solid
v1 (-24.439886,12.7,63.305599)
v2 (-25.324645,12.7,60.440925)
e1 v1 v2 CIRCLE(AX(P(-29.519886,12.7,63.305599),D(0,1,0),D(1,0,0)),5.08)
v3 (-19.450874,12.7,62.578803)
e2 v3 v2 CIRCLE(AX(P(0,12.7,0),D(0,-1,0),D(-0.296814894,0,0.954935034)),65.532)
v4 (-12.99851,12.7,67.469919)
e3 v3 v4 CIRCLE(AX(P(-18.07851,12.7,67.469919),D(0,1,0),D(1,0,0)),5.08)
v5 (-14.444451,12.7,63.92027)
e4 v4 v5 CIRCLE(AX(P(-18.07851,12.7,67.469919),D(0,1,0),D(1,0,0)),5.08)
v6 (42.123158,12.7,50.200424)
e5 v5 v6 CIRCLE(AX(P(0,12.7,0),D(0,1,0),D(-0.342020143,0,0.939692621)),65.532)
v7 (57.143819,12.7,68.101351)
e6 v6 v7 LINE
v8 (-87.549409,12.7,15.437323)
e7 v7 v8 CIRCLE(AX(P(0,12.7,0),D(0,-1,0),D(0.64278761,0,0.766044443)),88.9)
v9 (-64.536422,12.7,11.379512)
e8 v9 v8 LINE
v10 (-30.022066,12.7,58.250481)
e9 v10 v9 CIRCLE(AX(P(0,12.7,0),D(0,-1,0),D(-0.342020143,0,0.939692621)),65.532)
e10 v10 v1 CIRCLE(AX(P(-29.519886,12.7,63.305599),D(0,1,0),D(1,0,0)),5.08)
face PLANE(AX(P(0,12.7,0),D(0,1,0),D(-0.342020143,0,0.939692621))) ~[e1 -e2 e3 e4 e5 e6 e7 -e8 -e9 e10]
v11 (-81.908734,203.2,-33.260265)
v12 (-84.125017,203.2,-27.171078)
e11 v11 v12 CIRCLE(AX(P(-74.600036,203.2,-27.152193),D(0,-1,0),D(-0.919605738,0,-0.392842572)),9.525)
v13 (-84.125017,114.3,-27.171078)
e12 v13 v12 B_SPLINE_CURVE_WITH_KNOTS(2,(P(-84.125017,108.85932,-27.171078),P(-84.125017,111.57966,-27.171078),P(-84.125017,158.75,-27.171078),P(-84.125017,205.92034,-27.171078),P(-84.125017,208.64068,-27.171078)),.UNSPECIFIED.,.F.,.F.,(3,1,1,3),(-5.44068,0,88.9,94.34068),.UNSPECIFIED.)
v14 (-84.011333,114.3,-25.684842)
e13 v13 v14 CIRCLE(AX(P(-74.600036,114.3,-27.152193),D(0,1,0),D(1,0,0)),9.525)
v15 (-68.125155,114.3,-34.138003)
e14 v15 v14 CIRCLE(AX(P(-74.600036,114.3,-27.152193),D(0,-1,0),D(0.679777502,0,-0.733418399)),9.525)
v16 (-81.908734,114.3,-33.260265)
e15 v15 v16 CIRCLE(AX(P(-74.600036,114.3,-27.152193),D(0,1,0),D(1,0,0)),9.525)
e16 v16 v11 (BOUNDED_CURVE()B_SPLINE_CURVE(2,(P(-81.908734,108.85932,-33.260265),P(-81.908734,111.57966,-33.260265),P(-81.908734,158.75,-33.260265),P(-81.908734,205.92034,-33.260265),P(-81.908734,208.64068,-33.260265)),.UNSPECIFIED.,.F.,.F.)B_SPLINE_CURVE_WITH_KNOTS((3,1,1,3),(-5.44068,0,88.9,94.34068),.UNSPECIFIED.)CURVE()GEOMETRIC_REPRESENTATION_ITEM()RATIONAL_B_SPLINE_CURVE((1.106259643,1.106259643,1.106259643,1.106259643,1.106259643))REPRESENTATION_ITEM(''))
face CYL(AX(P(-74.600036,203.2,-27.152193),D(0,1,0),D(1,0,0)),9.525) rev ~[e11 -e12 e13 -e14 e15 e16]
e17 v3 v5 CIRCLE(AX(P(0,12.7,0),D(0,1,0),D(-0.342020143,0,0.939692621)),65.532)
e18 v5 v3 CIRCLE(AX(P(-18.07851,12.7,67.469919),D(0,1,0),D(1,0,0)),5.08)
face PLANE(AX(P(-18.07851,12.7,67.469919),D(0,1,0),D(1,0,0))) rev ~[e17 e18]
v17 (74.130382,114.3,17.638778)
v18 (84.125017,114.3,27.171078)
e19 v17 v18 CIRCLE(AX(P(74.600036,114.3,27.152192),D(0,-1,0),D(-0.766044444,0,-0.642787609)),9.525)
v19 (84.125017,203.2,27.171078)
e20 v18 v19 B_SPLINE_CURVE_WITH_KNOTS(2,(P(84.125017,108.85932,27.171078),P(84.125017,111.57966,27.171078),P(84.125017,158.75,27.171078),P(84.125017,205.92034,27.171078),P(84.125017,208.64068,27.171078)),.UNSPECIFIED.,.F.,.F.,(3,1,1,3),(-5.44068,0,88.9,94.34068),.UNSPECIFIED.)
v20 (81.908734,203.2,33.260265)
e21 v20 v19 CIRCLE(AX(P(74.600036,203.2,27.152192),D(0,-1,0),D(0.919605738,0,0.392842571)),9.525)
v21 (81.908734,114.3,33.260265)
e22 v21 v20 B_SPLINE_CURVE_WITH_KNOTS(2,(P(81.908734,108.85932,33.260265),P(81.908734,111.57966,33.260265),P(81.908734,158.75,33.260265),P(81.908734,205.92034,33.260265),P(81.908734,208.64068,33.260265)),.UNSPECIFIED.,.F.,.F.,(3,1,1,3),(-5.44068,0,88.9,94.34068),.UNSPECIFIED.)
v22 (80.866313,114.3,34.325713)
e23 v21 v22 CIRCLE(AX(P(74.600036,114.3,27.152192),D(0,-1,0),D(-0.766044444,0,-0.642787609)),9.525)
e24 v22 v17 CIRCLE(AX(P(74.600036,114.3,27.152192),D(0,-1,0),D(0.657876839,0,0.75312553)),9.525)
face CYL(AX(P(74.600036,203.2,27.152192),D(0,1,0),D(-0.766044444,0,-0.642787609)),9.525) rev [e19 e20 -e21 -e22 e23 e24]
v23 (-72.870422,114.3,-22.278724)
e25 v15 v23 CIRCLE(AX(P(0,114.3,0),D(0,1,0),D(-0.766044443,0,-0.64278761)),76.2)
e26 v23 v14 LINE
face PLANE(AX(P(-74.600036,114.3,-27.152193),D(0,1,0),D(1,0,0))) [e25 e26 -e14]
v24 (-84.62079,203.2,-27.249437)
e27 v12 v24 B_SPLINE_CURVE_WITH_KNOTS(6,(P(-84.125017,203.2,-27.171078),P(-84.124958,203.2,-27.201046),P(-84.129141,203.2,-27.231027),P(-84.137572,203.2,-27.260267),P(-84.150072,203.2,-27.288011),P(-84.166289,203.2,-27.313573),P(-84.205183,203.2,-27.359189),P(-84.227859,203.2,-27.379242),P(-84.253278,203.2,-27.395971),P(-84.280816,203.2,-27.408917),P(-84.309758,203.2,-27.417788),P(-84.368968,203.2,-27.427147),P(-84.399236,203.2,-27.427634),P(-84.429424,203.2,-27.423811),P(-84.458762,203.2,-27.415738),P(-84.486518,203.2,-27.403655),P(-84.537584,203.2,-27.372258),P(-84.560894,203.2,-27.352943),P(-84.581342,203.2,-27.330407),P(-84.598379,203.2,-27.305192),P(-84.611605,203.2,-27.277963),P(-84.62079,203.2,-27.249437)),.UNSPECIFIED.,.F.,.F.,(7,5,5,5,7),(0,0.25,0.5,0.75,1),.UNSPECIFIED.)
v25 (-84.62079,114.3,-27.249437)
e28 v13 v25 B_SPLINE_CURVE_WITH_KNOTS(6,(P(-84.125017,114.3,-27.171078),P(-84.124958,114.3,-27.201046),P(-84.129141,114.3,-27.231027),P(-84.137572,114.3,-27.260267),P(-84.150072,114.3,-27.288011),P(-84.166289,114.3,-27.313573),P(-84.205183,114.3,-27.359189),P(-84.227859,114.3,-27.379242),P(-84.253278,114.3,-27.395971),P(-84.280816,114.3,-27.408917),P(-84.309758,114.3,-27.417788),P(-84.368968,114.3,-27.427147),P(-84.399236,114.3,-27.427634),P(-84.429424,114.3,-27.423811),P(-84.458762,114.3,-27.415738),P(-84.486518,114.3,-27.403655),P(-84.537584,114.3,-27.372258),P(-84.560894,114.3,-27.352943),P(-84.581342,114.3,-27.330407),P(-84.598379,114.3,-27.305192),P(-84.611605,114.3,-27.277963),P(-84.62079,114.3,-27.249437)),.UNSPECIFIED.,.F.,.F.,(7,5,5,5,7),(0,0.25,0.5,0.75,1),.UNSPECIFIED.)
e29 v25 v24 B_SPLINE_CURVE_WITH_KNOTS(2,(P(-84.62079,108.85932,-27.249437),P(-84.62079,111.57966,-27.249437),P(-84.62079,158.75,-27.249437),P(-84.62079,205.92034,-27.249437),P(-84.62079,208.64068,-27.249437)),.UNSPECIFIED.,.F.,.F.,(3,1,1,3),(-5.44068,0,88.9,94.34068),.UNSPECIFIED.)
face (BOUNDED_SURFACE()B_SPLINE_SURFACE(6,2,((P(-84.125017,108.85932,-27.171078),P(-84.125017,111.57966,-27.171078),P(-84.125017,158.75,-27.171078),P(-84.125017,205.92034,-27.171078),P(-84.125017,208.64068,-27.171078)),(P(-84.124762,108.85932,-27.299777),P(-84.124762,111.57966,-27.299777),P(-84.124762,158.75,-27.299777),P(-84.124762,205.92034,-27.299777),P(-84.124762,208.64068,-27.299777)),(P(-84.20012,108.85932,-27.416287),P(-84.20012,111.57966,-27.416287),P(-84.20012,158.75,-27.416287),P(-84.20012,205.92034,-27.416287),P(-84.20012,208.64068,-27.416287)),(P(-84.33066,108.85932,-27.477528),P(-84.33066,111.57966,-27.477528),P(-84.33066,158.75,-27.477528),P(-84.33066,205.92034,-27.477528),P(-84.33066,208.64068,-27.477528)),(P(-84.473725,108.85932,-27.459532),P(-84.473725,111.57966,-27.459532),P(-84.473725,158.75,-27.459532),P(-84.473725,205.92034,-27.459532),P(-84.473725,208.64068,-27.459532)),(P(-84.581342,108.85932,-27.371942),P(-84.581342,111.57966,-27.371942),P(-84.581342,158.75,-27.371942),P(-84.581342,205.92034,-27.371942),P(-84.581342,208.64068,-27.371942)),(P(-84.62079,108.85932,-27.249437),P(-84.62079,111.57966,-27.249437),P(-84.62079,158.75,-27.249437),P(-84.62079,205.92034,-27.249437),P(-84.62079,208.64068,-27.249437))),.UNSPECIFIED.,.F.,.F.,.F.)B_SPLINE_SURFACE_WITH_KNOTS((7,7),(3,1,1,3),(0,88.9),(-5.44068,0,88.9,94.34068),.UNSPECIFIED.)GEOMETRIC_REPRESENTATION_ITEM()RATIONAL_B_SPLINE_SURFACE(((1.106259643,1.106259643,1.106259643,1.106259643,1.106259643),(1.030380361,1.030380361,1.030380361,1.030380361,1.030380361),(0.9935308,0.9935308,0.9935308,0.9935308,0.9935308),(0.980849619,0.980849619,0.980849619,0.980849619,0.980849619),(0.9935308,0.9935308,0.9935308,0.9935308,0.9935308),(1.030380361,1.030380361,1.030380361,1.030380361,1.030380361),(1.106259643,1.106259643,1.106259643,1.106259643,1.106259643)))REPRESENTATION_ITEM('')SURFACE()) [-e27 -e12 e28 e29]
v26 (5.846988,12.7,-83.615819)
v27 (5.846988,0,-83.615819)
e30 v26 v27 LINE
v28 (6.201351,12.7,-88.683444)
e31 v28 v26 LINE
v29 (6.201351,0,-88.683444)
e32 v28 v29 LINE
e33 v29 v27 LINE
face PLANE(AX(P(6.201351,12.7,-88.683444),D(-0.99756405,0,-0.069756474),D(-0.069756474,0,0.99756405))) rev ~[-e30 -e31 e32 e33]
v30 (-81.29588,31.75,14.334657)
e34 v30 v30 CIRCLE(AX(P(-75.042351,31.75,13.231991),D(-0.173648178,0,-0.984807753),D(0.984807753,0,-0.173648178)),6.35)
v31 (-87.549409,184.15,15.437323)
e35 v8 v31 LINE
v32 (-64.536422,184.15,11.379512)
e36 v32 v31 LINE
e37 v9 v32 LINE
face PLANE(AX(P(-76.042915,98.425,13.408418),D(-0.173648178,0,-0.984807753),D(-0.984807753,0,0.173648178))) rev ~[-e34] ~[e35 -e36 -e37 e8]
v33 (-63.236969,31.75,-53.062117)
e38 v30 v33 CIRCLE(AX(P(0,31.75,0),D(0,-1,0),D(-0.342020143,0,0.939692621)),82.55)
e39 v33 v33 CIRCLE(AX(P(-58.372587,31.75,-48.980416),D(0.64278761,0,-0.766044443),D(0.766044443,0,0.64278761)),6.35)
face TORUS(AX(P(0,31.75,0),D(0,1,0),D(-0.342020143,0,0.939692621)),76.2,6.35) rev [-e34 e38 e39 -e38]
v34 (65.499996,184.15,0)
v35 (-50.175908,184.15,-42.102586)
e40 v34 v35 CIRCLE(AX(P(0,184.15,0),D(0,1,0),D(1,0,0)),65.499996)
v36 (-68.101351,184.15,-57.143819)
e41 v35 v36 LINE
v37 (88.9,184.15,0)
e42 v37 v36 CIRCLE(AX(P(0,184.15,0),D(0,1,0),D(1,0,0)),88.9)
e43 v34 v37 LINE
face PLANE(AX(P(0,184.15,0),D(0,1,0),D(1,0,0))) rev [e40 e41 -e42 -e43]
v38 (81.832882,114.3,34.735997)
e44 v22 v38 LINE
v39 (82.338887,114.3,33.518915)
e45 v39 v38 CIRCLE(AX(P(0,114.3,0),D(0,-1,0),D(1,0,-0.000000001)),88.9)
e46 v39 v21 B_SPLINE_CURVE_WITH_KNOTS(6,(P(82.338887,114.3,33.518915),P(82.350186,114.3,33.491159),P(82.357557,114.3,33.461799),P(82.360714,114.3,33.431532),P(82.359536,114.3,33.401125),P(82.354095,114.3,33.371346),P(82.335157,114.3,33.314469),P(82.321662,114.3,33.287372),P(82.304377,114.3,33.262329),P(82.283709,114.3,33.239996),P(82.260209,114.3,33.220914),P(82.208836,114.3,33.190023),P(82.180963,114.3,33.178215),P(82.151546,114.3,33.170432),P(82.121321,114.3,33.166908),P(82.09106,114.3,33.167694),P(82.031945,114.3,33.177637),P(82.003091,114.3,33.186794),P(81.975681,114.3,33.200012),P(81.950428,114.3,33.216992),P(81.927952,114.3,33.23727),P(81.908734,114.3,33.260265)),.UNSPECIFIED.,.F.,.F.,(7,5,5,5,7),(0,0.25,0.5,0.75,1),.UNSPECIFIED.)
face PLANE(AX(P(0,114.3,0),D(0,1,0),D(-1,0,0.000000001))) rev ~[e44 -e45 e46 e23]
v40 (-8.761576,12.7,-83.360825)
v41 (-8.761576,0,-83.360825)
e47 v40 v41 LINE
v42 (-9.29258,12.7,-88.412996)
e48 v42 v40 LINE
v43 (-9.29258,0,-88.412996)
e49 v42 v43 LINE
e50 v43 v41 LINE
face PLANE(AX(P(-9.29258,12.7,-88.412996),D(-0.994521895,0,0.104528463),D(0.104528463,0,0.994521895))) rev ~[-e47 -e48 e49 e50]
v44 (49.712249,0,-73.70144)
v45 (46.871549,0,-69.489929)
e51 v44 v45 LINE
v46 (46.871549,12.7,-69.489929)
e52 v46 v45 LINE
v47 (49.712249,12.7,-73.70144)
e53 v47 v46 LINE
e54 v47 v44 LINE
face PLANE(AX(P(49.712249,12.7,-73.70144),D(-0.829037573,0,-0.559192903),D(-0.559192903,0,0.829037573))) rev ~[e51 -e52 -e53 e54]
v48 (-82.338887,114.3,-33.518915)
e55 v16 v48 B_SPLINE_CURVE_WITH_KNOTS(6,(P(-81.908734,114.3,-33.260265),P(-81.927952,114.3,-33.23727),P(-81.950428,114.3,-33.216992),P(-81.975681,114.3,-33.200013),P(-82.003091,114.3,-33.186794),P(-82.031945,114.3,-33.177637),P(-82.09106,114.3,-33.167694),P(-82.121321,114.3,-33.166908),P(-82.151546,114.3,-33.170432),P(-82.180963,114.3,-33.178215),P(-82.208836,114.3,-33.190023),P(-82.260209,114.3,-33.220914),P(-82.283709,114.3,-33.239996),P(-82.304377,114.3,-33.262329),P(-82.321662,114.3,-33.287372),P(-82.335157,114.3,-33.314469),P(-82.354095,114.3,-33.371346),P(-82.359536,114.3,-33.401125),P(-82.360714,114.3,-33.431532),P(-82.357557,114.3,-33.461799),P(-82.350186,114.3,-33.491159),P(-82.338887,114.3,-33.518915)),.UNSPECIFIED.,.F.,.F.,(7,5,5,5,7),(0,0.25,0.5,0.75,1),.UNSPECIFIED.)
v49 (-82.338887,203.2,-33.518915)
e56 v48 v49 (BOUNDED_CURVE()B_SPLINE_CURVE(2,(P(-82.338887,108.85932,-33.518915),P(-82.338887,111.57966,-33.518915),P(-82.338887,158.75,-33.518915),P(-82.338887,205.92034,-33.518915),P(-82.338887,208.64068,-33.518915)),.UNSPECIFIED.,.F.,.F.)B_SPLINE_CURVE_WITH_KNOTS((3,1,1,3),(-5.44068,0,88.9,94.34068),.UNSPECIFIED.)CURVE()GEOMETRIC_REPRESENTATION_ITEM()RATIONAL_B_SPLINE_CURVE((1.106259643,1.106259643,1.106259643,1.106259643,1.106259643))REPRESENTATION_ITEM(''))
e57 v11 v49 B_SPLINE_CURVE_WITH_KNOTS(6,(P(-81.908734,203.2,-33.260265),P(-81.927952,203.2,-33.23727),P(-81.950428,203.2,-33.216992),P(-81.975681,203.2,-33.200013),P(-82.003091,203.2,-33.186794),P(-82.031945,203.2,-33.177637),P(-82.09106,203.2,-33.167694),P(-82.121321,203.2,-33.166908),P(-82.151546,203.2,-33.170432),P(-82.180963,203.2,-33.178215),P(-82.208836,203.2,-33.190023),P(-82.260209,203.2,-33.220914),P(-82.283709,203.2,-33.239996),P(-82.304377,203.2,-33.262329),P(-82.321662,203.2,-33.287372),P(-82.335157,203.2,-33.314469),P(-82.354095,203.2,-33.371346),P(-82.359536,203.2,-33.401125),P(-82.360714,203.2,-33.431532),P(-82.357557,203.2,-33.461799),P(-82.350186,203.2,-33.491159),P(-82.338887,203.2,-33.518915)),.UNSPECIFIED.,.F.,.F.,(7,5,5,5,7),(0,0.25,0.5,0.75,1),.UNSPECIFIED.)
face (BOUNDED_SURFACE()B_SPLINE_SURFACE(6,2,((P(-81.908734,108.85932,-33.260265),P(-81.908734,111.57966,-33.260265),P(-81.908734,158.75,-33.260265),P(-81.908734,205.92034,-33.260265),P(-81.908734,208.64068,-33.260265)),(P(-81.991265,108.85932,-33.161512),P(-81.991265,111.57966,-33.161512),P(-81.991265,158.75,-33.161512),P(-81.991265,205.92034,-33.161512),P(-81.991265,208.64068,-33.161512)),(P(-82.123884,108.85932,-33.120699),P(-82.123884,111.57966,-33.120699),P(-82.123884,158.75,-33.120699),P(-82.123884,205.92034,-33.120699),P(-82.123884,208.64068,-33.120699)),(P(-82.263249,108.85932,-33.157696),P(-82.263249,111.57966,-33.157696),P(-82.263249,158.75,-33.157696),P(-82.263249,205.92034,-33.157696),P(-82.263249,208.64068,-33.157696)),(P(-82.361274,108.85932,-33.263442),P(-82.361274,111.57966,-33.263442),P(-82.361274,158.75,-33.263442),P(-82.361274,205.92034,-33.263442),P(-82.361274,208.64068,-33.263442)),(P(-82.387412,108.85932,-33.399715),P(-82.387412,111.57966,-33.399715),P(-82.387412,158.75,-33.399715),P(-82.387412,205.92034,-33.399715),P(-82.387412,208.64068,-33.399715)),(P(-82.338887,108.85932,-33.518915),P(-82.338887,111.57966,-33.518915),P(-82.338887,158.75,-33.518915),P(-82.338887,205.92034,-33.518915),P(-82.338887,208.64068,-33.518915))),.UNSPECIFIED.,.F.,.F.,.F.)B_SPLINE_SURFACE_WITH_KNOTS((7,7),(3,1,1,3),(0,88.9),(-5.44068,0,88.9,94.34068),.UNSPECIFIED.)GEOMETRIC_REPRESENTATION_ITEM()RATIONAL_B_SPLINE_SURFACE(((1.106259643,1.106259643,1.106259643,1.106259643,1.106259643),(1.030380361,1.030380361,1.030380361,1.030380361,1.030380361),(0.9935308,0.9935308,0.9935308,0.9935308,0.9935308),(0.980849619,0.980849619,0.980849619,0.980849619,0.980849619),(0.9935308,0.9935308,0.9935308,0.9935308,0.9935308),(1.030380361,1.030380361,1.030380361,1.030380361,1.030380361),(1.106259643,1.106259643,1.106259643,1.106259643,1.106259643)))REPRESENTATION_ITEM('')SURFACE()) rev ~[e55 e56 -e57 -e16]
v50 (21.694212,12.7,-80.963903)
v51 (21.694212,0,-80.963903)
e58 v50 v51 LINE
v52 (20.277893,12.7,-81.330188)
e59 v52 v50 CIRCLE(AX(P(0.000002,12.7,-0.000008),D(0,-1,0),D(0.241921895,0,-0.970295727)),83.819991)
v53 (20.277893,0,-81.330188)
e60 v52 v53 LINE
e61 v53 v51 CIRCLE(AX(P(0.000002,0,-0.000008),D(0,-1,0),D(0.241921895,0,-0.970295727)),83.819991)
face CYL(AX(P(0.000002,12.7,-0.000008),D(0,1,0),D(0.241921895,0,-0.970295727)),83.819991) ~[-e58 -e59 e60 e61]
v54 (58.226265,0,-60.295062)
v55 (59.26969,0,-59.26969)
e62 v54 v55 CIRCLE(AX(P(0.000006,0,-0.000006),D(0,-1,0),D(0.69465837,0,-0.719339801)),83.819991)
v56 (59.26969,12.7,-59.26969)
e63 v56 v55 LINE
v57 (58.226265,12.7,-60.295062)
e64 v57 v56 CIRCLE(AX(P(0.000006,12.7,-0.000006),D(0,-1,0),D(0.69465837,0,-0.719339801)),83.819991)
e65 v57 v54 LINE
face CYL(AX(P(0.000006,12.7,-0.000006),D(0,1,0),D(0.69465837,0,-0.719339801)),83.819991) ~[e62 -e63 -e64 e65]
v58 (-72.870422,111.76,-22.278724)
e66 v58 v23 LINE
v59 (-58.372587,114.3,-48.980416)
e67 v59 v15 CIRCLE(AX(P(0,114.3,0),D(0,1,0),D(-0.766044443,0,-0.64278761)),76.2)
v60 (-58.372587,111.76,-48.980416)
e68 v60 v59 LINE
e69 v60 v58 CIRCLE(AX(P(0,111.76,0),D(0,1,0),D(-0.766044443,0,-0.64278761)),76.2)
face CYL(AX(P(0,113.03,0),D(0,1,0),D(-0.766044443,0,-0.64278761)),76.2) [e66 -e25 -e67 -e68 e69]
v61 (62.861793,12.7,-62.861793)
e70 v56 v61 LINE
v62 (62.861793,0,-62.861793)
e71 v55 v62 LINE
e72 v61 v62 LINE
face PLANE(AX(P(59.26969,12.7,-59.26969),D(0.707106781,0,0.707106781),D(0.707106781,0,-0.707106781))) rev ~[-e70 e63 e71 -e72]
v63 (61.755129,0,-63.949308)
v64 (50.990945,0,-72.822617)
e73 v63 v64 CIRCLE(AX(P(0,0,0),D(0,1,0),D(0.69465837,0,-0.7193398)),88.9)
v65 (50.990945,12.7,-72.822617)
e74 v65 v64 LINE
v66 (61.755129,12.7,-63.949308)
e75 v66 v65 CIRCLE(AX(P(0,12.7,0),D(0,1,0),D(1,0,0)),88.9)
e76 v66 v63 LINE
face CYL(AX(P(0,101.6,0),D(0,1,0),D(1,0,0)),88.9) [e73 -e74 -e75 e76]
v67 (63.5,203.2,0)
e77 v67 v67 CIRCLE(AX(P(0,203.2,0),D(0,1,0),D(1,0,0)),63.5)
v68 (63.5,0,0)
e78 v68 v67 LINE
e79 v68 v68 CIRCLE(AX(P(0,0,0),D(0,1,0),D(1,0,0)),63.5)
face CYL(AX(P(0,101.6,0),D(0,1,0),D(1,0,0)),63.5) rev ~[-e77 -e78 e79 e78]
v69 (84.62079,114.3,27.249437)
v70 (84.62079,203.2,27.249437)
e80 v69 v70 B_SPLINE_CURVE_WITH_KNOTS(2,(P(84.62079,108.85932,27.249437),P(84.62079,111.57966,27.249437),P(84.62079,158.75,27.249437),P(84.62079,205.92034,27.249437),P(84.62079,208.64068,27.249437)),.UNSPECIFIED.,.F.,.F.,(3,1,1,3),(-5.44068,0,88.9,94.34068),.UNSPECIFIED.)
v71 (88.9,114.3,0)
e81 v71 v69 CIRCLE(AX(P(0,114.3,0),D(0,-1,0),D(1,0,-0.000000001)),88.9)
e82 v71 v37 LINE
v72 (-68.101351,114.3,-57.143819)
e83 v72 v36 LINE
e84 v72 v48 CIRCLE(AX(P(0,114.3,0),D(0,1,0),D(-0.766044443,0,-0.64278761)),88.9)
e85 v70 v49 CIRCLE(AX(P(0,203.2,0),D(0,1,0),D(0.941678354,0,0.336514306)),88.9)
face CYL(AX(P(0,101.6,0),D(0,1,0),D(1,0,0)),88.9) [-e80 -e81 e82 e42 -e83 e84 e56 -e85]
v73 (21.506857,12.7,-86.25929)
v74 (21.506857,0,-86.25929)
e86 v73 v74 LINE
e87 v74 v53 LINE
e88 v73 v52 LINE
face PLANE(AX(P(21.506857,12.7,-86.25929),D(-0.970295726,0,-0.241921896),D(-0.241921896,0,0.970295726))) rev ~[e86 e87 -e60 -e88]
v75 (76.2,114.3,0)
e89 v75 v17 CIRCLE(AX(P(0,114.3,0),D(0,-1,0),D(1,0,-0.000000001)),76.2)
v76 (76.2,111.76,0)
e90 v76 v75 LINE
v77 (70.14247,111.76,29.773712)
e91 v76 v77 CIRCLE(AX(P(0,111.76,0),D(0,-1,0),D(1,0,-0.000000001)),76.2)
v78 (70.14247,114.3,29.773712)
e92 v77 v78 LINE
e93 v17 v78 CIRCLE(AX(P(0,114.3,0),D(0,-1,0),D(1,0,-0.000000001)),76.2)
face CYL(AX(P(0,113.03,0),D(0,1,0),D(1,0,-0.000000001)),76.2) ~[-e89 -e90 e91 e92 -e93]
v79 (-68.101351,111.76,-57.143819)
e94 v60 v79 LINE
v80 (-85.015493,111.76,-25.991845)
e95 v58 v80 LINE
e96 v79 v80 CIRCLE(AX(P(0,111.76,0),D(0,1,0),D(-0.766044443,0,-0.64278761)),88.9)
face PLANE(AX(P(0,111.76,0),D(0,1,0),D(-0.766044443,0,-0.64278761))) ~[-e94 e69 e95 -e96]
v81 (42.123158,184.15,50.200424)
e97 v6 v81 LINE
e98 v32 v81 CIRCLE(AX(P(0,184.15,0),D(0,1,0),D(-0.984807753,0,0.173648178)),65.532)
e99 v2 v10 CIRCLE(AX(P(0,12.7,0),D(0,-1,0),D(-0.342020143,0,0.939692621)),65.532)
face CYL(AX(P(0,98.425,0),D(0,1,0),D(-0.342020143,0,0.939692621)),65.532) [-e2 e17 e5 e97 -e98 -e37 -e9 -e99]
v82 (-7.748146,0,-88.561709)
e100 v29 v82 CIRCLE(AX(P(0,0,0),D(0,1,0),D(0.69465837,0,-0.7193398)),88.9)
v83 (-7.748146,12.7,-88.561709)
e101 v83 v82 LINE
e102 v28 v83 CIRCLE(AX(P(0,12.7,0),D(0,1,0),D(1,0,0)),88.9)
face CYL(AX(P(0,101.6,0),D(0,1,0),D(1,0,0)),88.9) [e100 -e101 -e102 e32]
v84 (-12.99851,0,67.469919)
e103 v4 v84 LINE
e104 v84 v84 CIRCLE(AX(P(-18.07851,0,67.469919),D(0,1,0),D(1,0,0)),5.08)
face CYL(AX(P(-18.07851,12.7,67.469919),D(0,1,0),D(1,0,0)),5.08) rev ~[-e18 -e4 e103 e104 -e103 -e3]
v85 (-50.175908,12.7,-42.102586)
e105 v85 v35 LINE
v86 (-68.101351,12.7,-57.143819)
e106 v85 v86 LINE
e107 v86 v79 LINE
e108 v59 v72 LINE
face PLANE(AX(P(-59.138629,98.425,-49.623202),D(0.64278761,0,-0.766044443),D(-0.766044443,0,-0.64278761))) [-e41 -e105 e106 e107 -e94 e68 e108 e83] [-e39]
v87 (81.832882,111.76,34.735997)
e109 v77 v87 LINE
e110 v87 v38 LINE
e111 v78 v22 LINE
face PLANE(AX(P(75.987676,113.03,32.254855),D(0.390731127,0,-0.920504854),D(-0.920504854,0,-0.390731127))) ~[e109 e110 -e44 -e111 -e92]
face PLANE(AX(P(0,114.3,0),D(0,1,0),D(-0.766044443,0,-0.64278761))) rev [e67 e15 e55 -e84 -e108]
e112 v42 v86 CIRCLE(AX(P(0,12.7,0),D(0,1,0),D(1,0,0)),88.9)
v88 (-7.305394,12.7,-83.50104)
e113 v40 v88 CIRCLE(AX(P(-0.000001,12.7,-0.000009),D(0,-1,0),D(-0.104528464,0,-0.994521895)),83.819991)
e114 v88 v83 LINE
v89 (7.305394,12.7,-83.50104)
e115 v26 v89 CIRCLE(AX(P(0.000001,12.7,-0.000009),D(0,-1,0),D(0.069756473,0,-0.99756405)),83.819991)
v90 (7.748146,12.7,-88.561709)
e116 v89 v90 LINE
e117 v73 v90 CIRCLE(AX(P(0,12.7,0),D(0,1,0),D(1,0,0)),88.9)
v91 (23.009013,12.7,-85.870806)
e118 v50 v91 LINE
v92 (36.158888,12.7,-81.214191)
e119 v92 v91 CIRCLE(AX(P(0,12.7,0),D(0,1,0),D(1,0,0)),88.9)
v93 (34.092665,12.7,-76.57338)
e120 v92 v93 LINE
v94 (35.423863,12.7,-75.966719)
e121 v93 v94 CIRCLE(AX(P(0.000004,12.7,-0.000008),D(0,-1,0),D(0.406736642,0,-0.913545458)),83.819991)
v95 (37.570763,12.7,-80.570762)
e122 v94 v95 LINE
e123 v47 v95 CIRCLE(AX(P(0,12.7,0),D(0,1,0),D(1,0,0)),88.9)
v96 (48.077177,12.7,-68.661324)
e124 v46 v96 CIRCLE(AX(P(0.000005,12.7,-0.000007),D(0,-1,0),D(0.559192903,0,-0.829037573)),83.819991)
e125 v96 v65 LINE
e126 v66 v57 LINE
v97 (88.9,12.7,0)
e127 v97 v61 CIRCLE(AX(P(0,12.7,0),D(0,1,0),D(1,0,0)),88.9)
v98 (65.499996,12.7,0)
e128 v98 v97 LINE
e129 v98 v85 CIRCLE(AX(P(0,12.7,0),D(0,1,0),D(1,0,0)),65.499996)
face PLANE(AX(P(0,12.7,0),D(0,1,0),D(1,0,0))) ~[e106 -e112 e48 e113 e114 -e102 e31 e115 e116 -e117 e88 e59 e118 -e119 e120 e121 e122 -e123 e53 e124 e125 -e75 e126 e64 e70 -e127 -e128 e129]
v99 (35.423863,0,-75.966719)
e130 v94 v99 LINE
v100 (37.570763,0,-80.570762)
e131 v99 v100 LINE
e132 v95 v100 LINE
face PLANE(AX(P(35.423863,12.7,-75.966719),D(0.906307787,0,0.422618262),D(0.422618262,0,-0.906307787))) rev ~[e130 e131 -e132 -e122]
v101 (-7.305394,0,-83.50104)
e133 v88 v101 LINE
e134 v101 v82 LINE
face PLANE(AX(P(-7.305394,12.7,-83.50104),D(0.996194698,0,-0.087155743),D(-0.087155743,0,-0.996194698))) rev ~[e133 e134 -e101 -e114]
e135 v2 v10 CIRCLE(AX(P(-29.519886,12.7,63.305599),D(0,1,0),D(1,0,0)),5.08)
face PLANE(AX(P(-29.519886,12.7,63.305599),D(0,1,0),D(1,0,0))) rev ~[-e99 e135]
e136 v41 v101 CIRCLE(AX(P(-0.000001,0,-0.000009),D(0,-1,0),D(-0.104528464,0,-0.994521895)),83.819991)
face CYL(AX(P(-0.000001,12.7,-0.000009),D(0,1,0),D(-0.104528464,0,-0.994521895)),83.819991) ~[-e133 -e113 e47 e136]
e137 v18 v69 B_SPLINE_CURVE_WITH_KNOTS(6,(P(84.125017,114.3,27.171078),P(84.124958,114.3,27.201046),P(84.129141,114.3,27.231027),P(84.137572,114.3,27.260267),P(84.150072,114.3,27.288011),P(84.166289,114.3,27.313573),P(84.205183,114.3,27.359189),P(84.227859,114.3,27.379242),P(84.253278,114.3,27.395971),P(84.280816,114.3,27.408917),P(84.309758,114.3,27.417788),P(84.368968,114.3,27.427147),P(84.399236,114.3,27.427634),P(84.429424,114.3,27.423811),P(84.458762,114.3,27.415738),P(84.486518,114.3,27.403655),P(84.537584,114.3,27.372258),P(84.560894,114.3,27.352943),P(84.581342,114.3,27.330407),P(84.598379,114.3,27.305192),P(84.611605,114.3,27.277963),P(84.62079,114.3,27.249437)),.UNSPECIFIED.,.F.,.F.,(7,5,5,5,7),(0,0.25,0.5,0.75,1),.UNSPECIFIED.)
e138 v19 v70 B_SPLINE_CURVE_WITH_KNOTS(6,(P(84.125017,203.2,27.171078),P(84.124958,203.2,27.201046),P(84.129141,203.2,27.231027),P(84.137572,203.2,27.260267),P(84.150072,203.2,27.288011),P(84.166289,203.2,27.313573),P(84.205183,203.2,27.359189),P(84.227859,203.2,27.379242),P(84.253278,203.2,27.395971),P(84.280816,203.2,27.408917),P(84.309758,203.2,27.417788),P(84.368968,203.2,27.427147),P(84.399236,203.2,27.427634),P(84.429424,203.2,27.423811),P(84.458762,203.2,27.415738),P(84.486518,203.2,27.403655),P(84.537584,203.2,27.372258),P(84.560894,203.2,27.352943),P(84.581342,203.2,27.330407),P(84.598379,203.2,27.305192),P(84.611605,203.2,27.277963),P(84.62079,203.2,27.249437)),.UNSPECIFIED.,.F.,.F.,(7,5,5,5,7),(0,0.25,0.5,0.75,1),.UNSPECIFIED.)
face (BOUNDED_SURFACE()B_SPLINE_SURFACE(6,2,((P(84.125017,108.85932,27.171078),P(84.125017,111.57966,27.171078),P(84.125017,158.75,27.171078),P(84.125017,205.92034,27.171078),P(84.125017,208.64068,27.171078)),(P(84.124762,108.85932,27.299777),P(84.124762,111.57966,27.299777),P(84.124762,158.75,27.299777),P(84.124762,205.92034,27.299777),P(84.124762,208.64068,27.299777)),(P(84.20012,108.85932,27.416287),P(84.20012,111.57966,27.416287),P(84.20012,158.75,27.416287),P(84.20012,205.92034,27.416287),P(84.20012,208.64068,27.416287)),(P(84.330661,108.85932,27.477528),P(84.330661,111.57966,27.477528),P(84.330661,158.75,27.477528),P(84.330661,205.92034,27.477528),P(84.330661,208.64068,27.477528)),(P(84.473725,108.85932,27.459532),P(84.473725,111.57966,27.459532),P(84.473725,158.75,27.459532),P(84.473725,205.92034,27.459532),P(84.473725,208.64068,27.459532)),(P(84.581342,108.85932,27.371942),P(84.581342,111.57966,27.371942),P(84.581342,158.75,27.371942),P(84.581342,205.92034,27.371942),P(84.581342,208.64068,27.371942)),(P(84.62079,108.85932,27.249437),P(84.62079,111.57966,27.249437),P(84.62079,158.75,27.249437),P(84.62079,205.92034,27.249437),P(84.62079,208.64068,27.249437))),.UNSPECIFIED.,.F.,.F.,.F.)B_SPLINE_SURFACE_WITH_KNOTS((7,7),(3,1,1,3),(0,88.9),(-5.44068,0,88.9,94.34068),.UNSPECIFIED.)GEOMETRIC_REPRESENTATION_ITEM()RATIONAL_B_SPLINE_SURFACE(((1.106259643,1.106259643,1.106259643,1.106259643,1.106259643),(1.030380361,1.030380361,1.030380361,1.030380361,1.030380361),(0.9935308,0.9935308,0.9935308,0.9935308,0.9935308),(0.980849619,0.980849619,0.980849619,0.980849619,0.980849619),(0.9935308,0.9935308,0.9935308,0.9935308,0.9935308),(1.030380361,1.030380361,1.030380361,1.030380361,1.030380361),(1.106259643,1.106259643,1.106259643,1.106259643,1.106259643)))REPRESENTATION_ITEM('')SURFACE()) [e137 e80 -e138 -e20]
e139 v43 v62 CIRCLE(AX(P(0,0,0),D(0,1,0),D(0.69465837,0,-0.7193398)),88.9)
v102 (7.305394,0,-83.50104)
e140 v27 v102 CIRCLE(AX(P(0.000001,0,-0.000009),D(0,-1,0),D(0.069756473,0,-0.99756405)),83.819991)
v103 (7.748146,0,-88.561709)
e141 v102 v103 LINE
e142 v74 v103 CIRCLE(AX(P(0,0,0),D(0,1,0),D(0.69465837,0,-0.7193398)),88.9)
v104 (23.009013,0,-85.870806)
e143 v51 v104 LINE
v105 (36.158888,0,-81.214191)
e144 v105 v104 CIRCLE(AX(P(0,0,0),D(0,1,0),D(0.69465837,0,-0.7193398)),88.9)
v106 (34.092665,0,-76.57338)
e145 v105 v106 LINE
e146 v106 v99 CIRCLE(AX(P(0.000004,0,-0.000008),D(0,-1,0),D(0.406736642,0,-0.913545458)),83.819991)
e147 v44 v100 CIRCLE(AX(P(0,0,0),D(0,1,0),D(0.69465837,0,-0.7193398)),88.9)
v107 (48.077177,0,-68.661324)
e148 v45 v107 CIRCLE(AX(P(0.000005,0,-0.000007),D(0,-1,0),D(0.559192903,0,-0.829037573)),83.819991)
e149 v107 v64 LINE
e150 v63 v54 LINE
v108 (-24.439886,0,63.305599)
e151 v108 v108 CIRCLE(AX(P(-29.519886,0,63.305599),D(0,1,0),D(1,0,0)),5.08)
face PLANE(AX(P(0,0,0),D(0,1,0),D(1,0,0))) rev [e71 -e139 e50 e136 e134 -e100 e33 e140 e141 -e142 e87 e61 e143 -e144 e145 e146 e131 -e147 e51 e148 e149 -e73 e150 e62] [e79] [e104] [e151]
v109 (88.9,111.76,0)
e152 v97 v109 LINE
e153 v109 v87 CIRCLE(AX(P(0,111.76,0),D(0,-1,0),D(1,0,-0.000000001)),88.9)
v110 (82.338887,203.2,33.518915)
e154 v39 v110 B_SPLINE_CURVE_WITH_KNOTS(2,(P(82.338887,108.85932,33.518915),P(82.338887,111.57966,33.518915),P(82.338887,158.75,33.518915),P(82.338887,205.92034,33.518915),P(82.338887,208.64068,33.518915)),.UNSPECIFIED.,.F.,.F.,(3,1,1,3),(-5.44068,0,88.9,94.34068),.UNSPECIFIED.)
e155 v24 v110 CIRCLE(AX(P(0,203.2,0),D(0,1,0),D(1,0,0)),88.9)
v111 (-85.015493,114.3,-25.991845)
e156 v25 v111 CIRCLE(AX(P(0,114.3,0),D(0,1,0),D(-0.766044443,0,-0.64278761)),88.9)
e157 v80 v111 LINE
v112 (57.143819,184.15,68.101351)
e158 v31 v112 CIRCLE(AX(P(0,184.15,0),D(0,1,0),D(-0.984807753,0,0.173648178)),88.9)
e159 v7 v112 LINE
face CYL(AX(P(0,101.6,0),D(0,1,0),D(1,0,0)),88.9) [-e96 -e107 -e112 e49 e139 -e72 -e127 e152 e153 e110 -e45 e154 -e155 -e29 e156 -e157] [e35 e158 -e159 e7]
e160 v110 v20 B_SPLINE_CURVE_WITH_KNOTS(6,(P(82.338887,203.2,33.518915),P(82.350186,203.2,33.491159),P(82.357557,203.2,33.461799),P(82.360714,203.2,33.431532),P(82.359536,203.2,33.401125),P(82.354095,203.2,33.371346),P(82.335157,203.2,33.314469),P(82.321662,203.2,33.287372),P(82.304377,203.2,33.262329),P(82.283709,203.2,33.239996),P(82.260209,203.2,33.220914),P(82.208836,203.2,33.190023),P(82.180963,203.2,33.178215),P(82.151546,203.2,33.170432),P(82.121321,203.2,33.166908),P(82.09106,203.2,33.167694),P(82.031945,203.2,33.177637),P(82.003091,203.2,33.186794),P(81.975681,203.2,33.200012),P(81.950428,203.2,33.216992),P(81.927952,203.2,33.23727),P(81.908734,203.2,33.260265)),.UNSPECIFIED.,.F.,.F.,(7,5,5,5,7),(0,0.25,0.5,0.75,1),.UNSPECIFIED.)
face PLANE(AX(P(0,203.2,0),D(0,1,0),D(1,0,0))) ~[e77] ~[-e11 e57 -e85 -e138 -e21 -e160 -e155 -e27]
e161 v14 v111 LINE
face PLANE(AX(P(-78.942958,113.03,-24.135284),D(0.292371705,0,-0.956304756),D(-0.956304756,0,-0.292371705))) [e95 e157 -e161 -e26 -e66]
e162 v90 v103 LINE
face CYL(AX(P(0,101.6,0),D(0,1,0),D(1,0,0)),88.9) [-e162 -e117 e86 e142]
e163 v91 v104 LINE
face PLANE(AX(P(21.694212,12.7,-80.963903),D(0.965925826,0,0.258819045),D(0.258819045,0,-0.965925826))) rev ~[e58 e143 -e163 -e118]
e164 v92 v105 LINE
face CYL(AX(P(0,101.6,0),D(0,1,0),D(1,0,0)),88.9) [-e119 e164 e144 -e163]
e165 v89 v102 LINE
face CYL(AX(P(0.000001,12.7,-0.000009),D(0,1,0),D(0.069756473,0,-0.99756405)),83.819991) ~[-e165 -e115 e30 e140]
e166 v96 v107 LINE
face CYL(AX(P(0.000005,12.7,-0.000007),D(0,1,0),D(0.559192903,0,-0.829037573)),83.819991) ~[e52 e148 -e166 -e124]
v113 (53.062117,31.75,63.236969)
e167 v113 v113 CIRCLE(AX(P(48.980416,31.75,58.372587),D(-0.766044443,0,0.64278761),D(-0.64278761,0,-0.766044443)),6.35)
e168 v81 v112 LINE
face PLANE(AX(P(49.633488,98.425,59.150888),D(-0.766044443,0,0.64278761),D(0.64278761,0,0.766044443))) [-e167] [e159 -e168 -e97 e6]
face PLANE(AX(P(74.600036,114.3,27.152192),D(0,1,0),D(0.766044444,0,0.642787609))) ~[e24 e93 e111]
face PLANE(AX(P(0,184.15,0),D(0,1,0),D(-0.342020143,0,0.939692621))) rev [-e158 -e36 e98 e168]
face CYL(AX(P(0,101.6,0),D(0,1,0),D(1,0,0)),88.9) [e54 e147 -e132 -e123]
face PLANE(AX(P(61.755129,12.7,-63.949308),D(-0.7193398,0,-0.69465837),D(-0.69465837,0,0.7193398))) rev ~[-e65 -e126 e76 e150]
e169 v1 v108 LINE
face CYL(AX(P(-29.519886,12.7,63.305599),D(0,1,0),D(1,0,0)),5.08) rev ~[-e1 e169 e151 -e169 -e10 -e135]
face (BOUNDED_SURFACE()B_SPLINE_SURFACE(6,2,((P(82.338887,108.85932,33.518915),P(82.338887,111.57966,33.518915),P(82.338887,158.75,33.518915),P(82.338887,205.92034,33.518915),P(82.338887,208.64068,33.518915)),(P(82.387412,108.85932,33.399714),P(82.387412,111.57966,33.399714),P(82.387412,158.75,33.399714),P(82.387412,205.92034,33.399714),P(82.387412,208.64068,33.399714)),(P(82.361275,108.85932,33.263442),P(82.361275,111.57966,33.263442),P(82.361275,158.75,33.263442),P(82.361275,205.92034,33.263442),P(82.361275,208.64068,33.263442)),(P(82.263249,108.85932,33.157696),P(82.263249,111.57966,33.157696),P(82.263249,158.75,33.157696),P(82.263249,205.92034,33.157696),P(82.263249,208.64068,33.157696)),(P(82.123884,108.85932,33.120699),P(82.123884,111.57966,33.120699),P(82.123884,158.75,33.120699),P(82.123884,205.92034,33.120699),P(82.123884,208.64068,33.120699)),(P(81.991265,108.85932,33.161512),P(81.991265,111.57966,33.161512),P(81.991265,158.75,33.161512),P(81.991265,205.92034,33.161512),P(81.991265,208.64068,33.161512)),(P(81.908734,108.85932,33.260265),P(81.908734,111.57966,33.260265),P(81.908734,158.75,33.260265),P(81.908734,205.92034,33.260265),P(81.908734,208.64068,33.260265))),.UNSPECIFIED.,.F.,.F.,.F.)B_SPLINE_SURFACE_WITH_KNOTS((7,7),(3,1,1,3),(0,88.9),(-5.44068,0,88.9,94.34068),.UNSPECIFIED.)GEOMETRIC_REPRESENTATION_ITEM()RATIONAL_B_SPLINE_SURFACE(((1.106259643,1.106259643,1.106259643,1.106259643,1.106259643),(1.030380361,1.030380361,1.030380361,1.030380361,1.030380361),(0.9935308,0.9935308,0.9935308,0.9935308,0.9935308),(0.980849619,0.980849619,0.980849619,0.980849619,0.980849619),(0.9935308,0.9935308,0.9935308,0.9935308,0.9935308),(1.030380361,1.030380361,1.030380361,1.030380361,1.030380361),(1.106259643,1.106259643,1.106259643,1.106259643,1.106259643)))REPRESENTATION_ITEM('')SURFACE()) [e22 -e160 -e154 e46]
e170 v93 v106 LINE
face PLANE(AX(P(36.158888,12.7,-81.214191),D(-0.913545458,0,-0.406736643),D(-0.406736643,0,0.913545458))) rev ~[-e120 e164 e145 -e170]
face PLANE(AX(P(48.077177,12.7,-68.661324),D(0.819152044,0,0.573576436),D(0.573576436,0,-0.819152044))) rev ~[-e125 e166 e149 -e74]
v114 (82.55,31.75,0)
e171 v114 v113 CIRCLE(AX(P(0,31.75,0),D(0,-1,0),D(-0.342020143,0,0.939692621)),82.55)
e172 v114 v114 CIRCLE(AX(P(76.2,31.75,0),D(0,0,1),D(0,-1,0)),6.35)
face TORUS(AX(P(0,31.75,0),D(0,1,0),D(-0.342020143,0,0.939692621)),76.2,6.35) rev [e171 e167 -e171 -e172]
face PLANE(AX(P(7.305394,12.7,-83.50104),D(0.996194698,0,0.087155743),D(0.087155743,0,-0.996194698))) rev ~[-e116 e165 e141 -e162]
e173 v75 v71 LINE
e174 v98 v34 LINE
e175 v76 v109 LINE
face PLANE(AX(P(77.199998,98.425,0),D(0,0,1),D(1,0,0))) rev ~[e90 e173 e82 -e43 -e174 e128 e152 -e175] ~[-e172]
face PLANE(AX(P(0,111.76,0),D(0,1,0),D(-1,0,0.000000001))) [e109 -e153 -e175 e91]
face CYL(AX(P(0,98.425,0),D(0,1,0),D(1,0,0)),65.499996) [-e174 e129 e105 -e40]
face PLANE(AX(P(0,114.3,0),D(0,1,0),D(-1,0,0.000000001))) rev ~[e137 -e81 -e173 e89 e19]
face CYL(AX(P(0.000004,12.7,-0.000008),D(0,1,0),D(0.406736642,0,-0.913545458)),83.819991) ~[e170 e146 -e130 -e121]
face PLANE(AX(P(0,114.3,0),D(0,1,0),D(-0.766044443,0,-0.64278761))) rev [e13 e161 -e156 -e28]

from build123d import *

# Parameters (mm, degrees)
SKETCH1_W                    = 25.4
SKETCH1_H                    = 203.2
SKETCH2_W                    = 23.400004
SKETCH2_H                    = 171.45
CUT_REVOLVE1_ANGLE           = 140
SKETCH5_R                    = 9.525
CUT_EXTRUDE1_DEPTH           = 88.9
SKETCH7_W                    = 12.7
SKETCH7_H                    = 2.54
CUT_REVOLVE3_ANGLE           = 23
FILLET2_R                    = 0.254
FILLET2_OF_MIRROR1_R         = 0.254
CUT_EXTRUDE6_DEPTH           = 12.7
CIRPATTERN1_COUNT            = 6
CIRPATTERN1_ANGLE            = 50
SKETCH12_R                   = 5.08
CUT_EXTRUDE7_DEPTH           = 12.7
SKETCH16_W                   = 23.368
SKETCH16_H                   = 171.45
CUT_REVOLVE4_ANGLE           = 60
CUT_REVOLVE4_OTHER_WAY_ANGLE = 60
SKETCH17_R                   = 6.35


with BuildPart() as part:
    # Sketch1 → Revolve1 (revolve)
    with BuildSketch(Plane.XY):
        with Locations((76.2, 101.6)):
            Rectangle(SKETCH1_W, SKETCH1_H)
    revolve(axis=Axis((0, 0, 0), (0, 1, 0)))

    # Sketch2 → Cut-Revolve1 (revolve, cut)
    with BuildSketch(Plane.XY):
        with Locations((77.199998, 98.425)):
            Rectangle(SKETCH2_W, SKETCH2_H)
    revolve(axis=Axis((0, 0, 0), (0, 1, 0)), revolution_arc=CUT_REVOLVE1_ANGLE, mode=Mode.SUBTRACT)

    # Sketch5 → Cut-Extrude1 (cut)
    with BuildSketch(Plane(origin=(0, 203.2, 0), x_dir=(1, 0, 0), z_dir=(0, 1, 0))):
        with Locations((-74.600035871, 27.152192532)):
            Circle(SKETCH5_R)
    cut_extrude1 = extrude(amount=-CUT_EXTRUDE1_DEPTH, mode=Mode.SUBTRACT)

    # Sketch7 → Cut-Revolve3 (revolve, cut)
    with BuildSketch(Plane(origin=(0, 0, 0), x_dir=(-0.766044443, 0, -0.64278761), z_dir=(0.64278761, 0, -0.766044443))):
        with Locations((82.55, 113.03)):
            Rectangle(SKETCH7_W, SKETCH7_H)
    cut_revolve3 = revolve(axis=Axis((0, 213.36, 0), (0, 1, 0)), revolution_arc=CUT_REVOLVE3_ANGLE, mode=Mode.SUBTRACT)

    # Fillet2
    fillet2_edges = [part.edges().sort_by_distance(p)[0] for p in [
        (-83.359280525, 158.75, -30.894018036),
        (-83.715205635, 158.75, -29.916121832),
    ]]
    fillet(fillet2_edges, radius=FILLET2_R)

    # Mirror1: Cut-Extrude1, Cut-Revolve3 across plane
    add(cut_extrude1.mirror(Plane(origin=(0, 0, 0), x_dir=(-0.342020143, 0, 0.939692621), z_dir=(-0.939692621, 0, -0.342020143))), mode=Mode.SUBTRACT)
    add(cut_revolve3.mirror(Plane(origin=(0, 0, 0), x_dir=(-0.342020143, 0, 0.939692621), z_dir=(-0.939692621, 0, -0.342020143))), mode=Mode.SUBTRACT)

    # Fillet2 of Mirror1
    fillet2_of_mirror1_edges = [part.edges().sort_by_distance(p)[0] for p in [
        (83.715205635, 158.75, 29.916121832),
        (83.359280525, 158.75, 30.894018036),
    ]]
    fillet(fillet2_of_mirror1_edges, radius=FILLET2_OF_MIRROR1_R)

    # Sketch15 → Cut-Extrude6 (cut)
    with BuildSketch(Plane(origin=(0, 12.7, 0), x_dir=(1, 0, 0), z_dir=(0, 1, 0))):
        with BuildLine():
            Line((59.269690399, 59.269690399), (62.861792847, 62.861792847))
            ThreePointArc((62.861792847, 62.861792847), (62.310833596, 63.40796493), (61.755129134, 63.94930825))
            Line((61.755129134, 63.94930825), (58.226264612, 60.295062064))
            ThreePointArc((58.226264612, 60.295062064), (58.750214534, 59.784652648), (59.269690399, 59.269690399))
        make_face()
    cut_extrude6 = extrude(amount=-CUT_EXTRUDE6_DEPTH, mode=Mode.SUBTRACT)

    # CirPattern1: Cut-Extrude6 ×6 about axis
    cirpattern1_axis = Axis((0, 0, 0), (0, 1, 0))
    for i in range(1, CIRPATTERN1_COUNT):
        add(cut_extrude6.rotate(cirpattern1_axis, i * CIRPATTERN1_ANGLE / (CIRPATTERN1_COUNT - 1)), mode=Mode.SUBTRACT)

    # Sketch12 → Cut-Extrude7 (cut)
    with BuildSketch(Plane(origin=(0, 12.7, 0), x_dir=(1, 0, 0), z_dir=(0, 1, 0))):
        with Locations((-29.519885583, -63.305598925)):
            Circle(SKETCH12_R)
        with Locations((-18.0785103, -67.469918966)):
            Circle(SKETCH12_R)
    extrude(amount=-CUT_EXTRUDE7_DEPTH, mode=Mode.SUBTRACT)

    # Sketch16 → Cut-Revolve4 (revolve, cut)
    with BuildSketch(Plane(origin=(0, 0, 0), x_dir=(-0.342020143, 0, 0.939692621), z_dir=(-0.939692621, 0, -0.342020143))):
        with Locations((77.216, 98.425)):
            Rectangle(SKETCH16_W, SKETCH16_H)
    revolve(axis=Axis((0, -7.62, 0), (0, 1, 0)), revolution_arc=CUT_REVOLVE4_ANGLE, mode=Mode.SUBTRACT)

    # Sketch16 → Cut-Revolve4 other way (revolve, cut)
    with BuildSketch(Plane(origin=(0, 0, 0), x_dir=(-0.342020143, 0, 0.939692621), z_dir=(-0.939692621, 0, -0.342020143))):
        with Locations((77.216, 98.425)):
            Rectangle(SKETCH16_W, SKETCH16_H)
    revolve(axis=Axis((0, -7.62, 0), (0, -1, 0)), revolution_arc=CUT_REVOLVE4_OTHER_WAY_ANGLE, mode=Mode.SUBTRACT)

    # Sketch17 → Cut-Revolve5 (revolve, cut)
    with BuildSketch(Plane(origin=(0, 0, 0), x_dir=(-0.342020143, 0, 0.939692621), z_dir=(-0.939692621, 0, -0.342020143))):
        with Locations((76.2, 31.75)):
            Circle(SKETCH17_R)
    revolve(axis=Axis((0, 213.36, 0), (0, -1, 0)), mode=Mode.SUBTRACT)


solid = part.part
